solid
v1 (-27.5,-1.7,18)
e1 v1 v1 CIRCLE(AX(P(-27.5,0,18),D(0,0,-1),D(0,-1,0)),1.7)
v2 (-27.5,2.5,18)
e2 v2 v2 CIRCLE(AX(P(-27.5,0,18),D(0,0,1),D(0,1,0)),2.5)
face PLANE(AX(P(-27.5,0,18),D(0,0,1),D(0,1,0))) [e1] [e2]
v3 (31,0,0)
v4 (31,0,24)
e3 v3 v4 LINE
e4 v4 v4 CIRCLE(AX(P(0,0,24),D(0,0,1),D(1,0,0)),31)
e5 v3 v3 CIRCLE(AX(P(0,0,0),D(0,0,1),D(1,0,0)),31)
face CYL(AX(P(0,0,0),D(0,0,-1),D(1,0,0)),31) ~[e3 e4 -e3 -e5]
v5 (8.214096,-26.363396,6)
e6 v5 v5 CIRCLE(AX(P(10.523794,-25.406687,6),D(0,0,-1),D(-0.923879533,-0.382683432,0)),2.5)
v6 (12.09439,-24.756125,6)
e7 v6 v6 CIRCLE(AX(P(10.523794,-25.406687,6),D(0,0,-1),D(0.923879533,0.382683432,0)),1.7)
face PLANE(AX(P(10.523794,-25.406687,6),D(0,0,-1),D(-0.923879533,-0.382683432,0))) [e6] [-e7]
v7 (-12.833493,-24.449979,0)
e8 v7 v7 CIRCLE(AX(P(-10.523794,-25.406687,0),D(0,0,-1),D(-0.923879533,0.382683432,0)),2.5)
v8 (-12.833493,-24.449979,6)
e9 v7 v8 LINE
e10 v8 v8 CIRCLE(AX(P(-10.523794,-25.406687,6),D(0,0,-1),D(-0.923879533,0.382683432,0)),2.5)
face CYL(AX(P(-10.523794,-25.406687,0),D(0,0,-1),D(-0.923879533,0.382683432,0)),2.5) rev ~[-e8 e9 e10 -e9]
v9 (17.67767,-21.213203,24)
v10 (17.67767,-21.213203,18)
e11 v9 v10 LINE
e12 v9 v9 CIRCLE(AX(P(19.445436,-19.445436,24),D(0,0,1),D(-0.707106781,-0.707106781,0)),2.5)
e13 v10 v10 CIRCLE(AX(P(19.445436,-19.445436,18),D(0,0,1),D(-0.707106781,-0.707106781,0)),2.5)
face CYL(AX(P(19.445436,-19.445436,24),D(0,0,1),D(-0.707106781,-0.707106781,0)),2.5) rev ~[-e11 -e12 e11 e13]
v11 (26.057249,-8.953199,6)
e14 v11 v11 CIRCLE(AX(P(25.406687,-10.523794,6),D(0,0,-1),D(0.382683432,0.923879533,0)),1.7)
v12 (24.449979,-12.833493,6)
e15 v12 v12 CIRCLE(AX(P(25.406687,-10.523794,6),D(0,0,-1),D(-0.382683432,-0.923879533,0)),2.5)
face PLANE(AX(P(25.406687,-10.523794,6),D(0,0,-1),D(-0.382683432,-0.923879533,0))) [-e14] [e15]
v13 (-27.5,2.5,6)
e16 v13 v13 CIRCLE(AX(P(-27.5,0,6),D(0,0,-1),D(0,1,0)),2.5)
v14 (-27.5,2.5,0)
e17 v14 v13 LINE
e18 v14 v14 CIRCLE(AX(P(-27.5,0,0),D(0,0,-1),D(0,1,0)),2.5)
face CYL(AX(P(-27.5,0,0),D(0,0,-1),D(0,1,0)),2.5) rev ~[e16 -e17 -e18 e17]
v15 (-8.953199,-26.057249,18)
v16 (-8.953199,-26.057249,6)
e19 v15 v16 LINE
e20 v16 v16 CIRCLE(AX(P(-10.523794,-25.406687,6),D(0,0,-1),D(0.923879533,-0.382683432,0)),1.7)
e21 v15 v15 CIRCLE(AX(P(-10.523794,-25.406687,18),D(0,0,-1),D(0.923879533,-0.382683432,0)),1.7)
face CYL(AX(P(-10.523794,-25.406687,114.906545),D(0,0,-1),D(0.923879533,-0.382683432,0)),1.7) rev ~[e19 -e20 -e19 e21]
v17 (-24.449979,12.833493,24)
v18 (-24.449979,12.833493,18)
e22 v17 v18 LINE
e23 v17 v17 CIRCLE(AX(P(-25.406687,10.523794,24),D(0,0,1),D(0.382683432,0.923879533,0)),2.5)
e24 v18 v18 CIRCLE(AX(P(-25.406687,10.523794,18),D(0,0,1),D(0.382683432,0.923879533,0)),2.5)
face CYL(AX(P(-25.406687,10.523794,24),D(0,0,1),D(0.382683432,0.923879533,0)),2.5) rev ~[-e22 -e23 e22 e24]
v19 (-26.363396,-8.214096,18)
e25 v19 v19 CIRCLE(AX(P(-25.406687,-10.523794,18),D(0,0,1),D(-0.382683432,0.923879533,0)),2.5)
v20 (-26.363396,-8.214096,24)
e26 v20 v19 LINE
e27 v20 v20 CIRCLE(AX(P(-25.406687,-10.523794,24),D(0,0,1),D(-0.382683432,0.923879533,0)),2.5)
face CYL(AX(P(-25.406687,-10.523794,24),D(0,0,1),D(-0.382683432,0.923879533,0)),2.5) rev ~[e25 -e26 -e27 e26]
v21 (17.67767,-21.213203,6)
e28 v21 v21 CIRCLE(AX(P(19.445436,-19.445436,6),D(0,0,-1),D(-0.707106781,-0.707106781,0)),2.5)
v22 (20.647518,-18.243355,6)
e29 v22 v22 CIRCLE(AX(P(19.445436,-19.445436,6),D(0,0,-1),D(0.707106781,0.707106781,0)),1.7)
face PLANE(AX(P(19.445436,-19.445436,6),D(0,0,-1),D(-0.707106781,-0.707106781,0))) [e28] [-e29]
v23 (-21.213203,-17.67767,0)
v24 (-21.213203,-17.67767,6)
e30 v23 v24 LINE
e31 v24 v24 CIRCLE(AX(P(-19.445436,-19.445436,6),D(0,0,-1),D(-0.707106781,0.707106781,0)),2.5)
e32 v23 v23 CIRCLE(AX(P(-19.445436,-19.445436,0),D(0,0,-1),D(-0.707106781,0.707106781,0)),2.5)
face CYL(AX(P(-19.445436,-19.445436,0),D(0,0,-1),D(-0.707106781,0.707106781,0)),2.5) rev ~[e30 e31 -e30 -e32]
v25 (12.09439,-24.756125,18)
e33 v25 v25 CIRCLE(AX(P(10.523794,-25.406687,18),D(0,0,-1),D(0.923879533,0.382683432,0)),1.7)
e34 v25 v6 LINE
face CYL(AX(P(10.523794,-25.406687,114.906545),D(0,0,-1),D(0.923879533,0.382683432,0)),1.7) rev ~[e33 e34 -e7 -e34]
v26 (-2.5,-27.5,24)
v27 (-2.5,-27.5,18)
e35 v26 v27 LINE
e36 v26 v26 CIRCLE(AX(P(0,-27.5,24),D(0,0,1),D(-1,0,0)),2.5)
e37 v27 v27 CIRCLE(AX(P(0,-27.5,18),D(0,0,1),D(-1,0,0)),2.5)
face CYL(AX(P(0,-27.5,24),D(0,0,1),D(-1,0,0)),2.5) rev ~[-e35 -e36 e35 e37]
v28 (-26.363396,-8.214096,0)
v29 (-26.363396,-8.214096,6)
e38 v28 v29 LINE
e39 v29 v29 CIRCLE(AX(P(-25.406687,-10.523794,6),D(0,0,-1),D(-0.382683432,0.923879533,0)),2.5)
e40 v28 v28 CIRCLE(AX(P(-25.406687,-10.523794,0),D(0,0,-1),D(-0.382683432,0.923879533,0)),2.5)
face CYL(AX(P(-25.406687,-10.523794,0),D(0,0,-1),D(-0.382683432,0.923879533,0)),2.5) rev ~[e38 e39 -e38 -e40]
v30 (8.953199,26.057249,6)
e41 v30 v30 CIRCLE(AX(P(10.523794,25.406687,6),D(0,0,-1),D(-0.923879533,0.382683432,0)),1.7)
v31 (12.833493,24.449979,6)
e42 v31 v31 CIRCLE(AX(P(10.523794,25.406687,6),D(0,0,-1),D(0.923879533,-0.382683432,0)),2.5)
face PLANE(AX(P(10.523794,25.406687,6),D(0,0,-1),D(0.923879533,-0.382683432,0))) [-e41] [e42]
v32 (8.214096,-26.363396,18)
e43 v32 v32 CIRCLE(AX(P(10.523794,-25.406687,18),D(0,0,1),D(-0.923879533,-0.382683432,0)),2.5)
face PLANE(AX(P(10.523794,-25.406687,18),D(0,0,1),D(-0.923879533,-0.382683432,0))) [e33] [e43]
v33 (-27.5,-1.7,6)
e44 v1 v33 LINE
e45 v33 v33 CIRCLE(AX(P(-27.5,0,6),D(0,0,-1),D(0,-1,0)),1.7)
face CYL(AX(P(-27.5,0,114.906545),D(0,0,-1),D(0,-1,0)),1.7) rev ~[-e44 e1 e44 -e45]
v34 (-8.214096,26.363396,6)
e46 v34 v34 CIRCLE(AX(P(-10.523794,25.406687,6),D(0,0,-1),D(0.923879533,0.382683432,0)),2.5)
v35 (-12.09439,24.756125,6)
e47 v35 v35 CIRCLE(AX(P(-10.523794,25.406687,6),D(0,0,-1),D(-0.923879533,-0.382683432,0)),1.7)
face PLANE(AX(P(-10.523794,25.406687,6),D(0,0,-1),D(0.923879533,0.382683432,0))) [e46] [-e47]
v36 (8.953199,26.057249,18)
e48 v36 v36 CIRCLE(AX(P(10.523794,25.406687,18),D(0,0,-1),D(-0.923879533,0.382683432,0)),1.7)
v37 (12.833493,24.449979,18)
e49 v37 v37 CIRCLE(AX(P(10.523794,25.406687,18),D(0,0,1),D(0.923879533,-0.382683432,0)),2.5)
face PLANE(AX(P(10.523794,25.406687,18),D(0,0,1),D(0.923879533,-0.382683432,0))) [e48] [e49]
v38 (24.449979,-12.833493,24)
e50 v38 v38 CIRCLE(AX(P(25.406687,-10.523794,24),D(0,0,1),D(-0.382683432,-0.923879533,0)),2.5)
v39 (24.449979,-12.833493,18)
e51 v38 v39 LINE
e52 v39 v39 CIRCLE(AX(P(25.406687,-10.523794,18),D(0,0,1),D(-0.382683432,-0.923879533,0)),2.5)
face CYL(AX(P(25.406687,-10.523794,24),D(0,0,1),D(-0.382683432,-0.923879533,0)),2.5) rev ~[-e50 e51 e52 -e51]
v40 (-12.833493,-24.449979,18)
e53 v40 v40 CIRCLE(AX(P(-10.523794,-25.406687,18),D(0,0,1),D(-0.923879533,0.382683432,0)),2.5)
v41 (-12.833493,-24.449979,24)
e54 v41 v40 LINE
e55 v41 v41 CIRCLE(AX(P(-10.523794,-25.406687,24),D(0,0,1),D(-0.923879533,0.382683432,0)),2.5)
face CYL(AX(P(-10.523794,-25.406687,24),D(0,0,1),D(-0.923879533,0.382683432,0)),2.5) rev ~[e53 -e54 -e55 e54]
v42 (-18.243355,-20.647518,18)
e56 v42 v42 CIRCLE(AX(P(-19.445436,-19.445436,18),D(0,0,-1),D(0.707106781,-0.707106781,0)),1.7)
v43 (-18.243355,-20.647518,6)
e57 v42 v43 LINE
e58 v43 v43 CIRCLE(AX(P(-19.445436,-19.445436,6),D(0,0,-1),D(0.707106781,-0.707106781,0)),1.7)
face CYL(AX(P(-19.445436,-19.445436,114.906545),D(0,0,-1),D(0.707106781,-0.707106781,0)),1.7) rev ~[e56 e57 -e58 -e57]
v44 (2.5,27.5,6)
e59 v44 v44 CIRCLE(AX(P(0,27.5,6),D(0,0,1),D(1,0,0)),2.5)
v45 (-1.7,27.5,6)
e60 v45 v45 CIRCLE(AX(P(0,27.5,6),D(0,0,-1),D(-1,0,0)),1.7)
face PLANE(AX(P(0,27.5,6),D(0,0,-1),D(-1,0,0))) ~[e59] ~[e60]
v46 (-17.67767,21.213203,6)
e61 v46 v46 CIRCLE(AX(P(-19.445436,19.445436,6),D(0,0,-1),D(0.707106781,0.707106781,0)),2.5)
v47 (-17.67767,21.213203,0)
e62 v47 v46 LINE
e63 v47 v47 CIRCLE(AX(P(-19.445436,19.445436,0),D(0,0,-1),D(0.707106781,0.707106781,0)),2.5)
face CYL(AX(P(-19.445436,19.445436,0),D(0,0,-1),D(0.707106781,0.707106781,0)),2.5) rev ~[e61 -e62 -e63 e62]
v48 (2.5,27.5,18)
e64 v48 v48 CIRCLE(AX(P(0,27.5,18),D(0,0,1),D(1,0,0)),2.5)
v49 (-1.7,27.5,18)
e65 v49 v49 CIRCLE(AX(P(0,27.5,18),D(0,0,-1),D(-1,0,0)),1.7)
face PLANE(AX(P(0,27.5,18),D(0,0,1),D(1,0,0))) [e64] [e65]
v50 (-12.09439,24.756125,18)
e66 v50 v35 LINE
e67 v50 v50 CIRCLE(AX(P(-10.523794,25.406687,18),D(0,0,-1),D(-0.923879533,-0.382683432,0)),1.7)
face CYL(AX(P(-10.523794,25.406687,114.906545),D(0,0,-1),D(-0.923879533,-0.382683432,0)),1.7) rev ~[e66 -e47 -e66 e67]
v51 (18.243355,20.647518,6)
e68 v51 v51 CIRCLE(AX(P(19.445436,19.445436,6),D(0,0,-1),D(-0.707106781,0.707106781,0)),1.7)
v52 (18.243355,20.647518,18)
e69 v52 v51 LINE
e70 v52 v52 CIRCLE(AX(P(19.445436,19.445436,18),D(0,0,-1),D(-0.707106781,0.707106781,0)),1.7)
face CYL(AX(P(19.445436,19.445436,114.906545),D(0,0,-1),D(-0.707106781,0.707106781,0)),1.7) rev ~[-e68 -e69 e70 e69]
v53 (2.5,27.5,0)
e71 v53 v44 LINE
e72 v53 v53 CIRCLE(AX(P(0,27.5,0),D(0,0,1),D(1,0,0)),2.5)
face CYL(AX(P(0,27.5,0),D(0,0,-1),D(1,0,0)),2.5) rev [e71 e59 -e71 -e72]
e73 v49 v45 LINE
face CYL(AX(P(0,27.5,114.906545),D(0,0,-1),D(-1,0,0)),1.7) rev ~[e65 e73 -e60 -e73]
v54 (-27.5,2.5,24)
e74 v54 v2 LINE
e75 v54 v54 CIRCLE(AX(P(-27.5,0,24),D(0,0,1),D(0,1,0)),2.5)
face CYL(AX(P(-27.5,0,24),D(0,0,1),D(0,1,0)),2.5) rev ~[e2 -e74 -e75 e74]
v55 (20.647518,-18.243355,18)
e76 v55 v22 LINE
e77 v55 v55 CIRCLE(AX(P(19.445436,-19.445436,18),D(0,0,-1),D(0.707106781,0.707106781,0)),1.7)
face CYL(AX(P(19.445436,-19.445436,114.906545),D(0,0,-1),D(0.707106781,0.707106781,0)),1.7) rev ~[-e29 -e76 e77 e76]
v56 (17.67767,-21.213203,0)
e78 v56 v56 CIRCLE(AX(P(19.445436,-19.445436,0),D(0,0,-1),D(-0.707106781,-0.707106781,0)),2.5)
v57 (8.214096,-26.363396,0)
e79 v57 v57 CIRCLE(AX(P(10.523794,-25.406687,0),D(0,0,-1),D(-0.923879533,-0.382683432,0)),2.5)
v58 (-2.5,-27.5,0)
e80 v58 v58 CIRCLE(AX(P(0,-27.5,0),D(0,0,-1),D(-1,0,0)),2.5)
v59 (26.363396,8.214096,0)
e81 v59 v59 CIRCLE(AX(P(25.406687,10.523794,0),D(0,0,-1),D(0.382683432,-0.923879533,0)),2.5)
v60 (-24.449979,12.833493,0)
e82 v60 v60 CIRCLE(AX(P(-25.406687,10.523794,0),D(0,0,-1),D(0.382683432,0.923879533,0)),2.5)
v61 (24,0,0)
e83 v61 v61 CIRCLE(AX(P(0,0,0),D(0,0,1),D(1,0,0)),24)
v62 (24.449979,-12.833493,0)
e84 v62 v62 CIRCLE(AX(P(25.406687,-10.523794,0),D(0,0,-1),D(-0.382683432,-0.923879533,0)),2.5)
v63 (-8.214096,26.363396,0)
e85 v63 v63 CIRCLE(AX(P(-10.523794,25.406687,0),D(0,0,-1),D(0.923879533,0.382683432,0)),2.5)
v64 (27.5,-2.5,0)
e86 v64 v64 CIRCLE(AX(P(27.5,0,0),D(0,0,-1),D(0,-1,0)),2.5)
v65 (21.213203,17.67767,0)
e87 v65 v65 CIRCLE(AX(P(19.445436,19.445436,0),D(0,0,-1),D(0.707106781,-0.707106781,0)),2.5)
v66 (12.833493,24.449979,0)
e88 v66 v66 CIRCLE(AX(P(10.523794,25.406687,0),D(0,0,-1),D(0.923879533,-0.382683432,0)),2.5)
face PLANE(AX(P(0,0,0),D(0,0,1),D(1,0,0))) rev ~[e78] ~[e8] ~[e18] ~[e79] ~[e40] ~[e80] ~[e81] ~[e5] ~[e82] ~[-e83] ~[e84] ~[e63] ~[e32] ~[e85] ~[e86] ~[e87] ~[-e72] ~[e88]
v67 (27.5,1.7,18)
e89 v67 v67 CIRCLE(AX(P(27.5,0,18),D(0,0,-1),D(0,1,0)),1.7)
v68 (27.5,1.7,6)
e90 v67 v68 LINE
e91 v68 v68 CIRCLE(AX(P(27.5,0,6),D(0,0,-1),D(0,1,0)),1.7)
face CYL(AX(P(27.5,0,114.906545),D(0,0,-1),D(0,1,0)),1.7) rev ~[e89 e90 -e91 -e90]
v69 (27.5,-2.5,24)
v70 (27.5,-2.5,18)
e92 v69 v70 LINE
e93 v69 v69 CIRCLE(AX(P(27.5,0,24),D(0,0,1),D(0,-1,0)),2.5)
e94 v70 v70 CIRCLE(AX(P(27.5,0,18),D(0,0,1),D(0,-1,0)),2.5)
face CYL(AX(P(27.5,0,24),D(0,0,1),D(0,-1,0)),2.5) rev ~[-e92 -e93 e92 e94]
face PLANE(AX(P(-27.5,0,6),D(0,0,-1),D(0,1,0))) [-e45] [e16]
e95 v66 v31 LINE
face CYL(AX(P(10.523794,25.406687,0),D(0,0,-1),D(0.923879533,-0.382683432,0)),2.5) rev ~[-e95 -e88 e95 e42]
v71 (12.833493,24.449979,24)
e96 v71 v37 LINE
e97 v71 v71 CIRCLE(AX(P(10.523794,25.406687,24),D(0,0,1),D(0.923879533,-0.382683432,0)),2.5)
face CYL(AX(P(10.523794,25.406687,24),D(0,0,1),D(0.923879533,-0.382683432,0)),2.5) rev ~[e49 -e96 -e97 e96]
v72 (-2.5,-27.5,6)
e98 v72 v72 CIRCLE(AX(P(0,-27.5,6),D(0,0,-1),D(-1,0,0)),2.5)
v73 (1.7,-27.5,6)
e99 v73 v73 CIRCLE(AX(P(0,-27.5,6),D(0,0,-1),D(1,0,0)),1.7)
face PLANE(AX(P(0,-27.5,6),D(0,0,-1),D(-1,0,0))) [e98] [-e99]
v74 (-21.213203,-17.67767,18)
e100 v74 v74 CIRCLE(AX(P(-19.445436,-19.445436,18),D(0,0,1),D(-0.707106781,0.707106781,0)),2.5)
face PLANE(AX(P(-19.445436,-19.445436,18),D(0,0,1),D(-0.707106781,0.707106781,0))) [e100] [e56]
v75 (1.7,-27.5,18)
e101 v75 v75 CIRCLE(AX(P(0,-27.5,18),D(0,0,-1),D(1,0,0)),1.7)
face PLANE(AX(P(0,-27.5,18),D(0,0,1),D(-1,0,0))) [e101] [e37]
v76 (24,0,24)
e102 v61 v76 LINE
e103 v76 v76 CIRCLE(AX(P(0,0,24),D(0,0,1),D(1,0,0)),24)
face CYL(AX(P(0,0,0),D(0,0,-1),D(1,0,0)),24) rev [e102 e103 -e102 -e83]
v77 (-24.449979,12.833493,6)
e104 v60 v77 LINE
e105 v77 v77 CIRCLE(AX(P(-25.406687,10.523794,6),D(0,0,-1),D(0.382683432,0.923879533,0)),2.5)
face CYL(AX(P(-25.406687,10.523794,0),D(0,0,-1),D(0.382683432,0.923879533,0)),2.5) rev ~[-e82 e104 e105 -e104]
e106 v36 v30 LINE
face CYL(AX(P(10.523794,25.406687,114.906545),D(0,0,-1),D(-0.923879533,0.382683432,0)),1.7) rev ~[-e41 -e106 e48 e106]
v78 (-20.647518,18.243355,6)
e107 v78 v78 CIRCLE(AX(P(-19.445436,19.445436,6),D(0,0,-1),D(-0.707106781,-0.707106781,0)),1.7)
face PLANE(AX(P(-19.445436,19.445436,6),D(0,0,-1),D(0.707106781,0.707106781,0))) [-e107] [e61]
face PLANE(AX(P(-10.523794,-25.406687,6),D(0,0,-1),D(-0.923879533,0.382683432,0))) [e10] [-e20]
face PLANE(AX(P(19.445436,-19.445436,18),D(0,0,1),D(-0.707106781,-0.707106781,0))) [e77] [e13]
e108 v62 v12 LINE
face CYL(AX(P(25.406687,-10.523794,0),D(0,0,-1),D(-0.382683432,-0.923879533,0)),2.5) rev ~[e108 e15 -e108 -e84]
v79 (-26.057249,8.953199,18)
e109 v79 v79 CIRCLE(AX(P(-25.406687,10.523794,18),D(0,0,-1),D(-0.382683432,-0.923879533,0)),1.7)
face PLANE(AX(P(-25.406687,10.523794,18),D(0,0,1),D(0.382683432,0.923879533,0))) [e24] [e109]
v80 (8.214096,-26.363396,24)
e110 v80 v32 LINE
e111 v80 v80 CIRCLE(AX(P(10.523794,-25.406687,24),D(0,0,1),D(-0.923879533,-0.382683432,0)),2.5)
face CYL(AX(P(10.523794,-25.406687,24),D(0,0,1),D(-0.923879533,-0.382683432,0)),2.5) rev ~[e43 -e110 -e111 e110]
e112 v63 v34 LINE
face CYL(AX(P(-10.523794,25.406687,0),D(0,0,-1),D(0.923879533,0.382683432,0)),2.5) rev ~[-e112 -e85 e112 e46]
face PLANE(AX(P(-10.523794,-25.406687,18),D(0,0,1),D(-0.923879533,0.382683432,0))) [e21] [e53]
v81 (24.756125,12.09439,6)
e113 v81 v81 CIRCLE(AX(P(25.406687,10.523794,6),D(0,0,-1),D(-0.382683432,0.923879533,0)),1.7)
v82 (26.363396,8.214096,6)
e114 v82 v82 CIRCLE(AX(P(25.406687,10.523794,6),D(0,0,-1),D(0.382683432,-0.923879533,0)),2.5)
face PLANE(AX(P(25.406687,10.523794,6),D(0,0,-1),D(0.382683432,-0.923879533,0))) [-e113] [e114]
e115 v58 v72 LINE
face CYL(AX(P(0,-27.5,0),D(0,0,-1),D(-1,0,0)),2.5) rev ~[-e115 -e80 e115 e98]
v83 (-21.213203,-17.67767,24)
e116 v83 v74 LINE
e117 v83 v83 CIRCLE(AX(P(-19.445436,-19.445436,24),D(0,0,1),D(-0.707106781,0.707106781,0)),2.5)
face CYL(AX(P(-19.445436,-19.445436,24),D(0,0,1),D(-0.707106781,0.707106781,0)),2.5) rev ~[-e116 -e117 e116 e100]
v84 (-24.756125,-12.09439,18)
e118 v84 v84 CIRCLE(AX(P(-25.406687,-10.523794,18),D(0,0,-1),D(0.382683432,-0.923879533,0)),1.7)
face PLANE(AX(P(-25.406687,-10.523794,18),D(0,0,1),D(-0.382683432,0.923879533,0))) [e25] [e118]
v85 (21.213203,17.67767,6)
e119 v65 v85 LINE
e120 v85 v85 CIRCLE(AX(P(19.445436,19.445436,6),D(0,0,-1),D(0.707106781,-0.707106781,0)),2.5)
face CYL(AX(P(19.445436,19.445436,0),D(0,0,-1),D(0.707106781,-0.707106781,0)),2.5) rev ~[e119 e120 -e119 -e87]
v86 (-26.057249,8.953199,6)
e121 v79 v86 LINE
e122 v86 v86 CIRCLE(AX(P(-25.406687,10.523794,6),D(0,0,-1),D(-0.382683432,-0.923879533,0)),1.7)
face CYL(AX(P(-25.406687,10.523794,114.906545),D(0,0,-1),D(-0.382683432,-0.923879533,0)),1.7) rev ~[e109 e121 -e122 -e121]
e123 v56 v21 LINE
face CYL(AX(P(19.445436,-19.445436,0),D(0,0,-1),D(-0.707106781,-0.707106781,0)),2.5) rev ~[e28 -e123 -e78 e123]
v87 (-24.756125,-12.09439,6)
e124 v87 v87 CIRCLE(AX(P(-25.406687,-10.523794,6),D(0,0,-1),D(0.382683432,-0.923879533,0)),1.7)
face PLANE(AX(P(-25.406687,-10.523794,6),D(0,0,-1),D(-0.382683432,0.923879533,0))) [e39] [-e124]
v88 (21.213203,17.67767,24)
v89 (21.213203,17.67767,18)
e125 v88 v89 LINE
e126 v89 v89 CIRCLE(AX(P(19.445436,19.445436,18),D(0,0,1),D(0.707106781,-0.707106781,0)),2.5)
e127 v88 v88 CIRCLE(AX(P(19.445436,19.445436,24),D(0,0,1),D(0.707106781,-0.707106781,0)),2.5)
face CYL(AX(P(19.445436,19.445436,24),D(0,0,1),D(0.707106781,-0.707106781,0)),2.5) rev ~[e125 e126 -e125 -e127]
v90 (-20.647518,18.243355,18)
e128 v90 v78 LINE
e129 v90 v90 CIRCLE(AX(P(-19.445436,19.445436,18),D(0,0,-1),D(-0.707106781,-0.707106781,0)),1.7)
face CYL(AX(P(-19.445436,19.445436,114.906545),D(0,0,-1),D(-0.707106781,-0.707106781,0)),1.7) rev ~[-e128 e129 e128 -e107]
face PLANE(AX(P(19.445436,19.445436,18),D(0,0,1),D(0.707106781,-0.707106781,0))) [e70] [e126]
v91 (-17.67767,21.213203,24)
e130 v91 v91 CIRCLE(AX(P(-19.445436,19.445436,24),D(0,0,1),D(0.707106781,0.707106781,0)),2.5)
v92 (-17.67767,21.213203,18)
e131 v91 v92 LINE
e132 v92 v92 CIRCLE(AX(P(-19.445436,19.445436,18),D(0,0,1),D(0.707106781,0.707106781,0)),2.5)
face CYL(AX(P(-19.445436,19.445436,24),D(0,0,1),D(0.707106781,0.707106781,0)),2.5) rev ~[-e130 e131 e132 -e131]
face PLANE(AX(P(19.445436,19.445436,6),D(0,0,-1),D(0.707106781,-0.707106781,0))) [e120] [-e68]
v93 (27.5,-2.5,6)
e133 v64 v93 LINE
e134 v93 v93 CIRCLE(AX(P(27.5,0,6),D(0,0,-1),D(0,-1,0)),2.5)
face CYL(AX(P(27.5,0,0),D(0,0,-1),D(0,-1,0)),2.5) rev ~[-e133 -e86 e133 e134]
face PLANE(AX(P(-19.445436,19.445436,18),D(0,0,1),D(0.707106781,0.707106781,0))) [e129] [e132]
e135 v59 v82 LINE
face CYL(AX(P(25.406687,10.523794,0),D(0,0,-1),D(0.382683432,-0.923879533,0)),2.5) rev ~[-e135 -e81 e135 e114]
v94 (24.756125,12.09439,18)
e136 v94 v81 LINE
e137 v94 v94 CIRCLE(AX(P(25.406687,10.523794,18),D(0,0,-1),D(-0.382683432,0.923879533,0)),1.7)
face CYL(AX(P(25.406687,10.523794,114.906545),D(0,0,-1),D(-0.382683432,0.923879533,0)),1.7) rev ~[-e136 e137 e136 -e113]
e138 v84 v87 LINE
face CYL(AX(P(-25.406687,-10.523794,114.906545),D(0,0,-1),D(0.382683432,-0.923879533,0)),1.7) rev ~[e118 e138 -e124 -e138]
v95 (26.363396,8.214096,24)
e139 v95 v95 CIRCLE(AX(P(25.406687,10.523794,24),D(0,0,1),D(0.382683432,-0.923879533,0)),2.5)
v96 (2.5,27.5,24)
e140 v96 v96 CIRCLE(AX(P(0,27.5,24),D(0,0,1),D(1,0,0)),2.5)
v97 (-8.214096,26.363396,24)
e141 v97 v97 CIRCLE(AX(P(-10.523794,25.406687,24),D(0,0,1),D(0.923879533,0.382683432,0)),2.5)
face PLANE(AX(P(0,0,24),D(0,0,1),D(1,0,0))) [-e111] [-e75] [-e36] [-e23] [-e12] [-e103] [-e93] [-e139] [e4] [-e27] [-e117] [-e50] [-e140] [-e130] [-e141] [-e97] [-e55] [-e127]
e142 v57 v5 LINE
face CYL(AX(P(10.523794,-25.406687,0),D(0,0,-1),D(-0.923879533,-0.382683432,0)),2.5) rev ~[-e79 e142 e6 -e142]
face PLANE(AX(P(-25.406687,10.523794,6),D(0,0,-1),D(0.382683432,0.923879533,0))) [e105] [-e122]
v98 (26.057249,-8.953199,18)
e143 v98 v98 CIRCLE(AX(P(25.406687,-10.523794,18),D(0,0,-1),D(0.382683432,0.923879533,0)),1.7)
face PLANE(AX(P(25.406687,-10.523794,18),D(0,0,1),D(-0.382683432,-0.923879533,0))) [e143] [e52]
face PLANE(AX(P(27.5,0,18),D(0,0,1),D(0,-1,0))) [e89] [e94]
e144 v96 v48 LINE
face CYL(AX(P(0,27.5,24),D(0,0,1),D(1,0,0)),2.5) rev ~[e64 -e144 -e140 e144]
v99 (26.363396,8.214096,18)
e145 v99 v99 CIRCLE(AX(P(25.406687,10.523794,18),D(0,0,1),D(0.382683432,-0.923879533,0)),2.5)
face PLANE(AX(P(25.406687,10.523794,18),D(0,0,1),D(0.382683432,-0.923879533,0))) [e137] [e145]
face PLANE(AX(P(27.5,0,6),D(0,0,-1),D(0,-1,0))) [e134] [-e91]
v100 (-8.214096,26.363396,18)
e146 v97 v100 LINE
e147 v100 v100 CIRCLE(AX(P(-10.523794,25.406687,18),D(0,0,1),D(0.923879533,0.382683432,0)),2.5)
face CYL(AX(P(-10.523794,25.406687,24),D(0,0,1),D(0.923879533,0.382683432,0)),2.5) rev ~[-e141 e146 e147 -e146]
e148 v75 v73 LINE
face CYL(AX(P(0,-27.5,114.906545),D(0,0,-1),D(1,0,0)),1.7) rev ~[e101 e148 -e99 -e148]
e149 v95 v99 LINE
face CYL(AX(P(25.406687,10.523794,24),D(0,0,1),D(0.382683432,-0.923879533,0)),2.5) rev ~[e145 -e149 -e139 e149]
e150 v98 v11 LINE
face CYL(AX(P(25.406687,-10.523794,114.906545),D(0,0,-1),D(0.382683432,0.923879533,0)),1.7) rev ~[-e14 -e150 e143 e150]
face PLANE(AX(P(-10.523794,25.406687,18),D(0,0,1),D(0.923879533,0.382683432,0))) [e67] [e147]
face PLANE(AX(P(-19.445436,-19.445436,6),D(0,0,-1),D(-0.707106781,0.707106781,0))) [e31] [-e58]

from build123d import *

# Parameters (mm, degrees)
SKETCH_1_R                = 31
SKETCH_1_R_2              = 24
EXTRUDE_1_DEPTH           = 24
HOLE_WIZARD_M3_1_D        = 3.4
SKETCH_7_R                = 2.5
CUT_EXTRUDE_3_DEPTH       = 6
PATTERN_CIRCULAR_3_COUNT  = 16
MIRROR_1_COPY_1_D         = 3.4
MIRROR_1_COPY_2_D         = 3.4
MIRROR_1_COPY_3_D         = 3.4
MIRROR_1_COPY_4_D         = 3.4
MIRROR_1_COPY_5_D         = 3.4
MIRROR_1_COPY_6_D         = 3.4
MIRROR_1_COPY_7_D         = 3.4
MIRROR_1_COPY_8_D         = 3.4
MIRROR_1_COPY_9_D         = 3.4
MIRROR_1_COPY_10_D        = 3.4
MIRROR_1_COPY_11_D        = 3.4
MIRROR_1_COPY_12_D        = 3.4
MIRROR_1_COPY_13_D        = 3.4
MIRROR_1_COPY_14_D        = 3.4
MIRROR_1_COPY_15_D        = 3.4
MIRROR_1_COPY_16_SKETCH_R = 2.5
MIRROR_1_COPY_16_DEPTH    = 6
MIRROR_1_COPY_17_SKETCH_R = 2.5
MIRROR_1_COPY_17_DEPTH    = 6
MIRROR_1_COPY_18_SKETCH_R = 2.5
MIRROR_1_COPY_18_DEPTH    = 6
MIRROR_1_COPY_19_SKETCH_R = 2.5
MIRROR_1_COPY_19_DEPTH    = 6
MIRROR_1_COPY_20_SKETCH_R = 2.5
MIRROR_1_COPY_20_DEPTH    = 6
MIRROR_1_COPY_21_SKETCH_R = 2.5
MIRROR_1_COPY_21_DEPTH    = 6
MIRROR_1_COPY_22_SKETCH_R = 2.5
MIRROR_1_COPY_22_DEPTH    = 6
MIRROR_1_COPY_23_SKETCH_R = 2.5
MIRROR_1_COPY_23_DEPTH    = 6
MIRROR_1_COPY_24_SKETCH_R = 2.5
MIRROR_1_COPY_24_DEPTH    = 6
MIRROR_1_COPY_25_SKETCH_R = 2.5
MIRROR_1_COPY_25_DEPTH    = 6
MIRROR_1_COPY_26_SKETCH_R = 2.5
MIRROR_1_COPY_26_DEPTH    = 6
MIRROR_1_COPY_27_SKETCH_R = 2.5
MIRROR_1_COPY_27_DEPTH    = 6
MIRROR_1_COPY_28_SKETCH_R = 2.5
MIRROR_1_COPY_28_DEPTH    = 6
MIRROR_1_COPY_29_SKETCH_R = 2.5
MIRROR_1_COPY_29_DEPTH    = 6
MIRROR_1_COPY_30_SKETCH_R = 2.5
MIRROR_1_COPY_30_DEPTH    = 6
MIRROR_1_COPY_31_D        = 3.4


with BuildPart() as part:
    # ｽｹｯﾁ1 → ﾎﾞｽ - 押し出し1 (new body)
    with BuildSketch(Plane.XY):
        Circle(SKETCH_1_R)
        Circle(SKETCH_1_R_2, mode=Mode.SUBTRACT)
    extrude(amount=EXTRUDE_1_DEPTH)

    # M3 すきま穴1 (through all)
    with Locations(Plane.XY.offset(24)):
        with Locations((0, 27.5)):
            hole_wizard_m3_1 = Hole(HOLE_WIZARD_M3_1_D / 2)

    # ｽｹｯﾁ7 → ｶｯﾄ - 押し出し3 (cut)
    with BuildSketch(Plane.XY.offset(24)):
        with Locations((0, 27.5)):
            Circle(SKETCH_7_R)
    cut_extrude_3 = extrude(amount=-CUT_EXTRUDE_3_DEPTH, mode=Mode.SUBTRACT)

    # 円形ﾊﾟﾀｰﾝ3: M3 すきま穴1, ｶｯﾄ - 押し出し3 ×16 about axis
    pattern_circular_3_axis = Axis((0, 0, 0), (0, 0, 1))
    for i in range(1, PATTERN_CIRCULAR_3_COUNT):
        add(hole_wizard_m3_1.rotate(pattern_circular_3_axis, i * 360 / PATTERN_CIRCULAR_3_COUNT), mode=Mode.SUBTRACT)
        add(cut_extrude_3.rotate(pattern_circular_3_axis, i * 360 / PATTERN_CIRCULAR_3_COUNT), mode=Mode.SUBTRACT)

    # ﾐﾗｰ1: ｶｯﾄ - 押し出し3 across plane
    add(cut_extrude_3.mirror(Plane(origin=(0, 0, 12), x_dir=(1, 0, 0), z_dir=(0, 0, -1))), mode=Mode.SUBTRACT)

    # ﾐﾗｰ1 copy 1 (through all)
    with Locations(Plane(origin=(0, 0, 0), x_dir=(0.923879533, 0.382683432, 0), z_dir=(0, 0, -1))):
        with Locations((0, -27.5)):
            Hole(MIRROR_1_COPY_1_D / 2)

    # ﾐﾗｰ1 copy 2 (through all)
    with Locations(Plane(origin=(0, 0, 0), x_dir=(0.707106781, 0.707106781, 0), z_dir=(0, 0, -1))):
        with Locations((0, -27.5)):
            Hole(MIRROR_1_COPY_2_D / 2)

    # ﾐﾗｰ1 copy 3 (through all)
    with Locations(Plane(origin=(0, 0, 0), x_dir=(0.382683432, 0.923879533, 0), z_dir=(0, 0, -1))):
        with Locations((0, -27.5)):
            Hole(MIRROR_1_COPY_3_D / 2)

    # ﾐﾗｰ1 copy 4 (through all)
    with Locations(Plane.YX):
        with Locations((0, -27.5)):
            Hole(MIRROR_1_COPY_4_D / 2)

    # ﾐﾗｰ1 copy 5 (through all)
    with Locations(Plane(origin=(0, 0, 0), x_dir=(-0.382683432, 0.923879533, 0), z_dir=(0, 0, -1))):
        with Locations((0, -27.5)):
            Hole(MIRROR_1_COPY_5_D / 2)

    # ﾐﾗｰ1 copy 6 (through all)
    with Locations(Plane(origin=(0, 0, 0), x_dir=(-0.707106781, 0.707106781, 0), z_dir=(0, 0, -1))):
        with Locations((0, -27.5)):
            Hole(MIRROR_1_COPY_6_D / 2)

    # ﾐﾗｰ1 copy 7 (through all)
    with Locations(Plane(origin=(0, 0, 0), x_dir=(-0.923879533, 0.382683432, 0), z_dir=(0, 0, -1))):
        with Locations((0, -27.5)):
            Hole(MIRROR_1_COPY_7_D / 2)

    # ﾐﾗｰ1 copy 8 (through all)
    with Locations(Plane(origin=(0, 0, 0), x_dir=(-1, 0, 0), z_dir=(0, 0, -1))):
        with Locations((0, -27.5)):
            Hole(MIRROR_1_COPY_8_D / 2)

    # ﾐﾗｰ1 copy 9 (through all)
    with Locations(Plane(origin=(0, 0, 0), x_dir=(-0.923879533, -0.382683432, 0), z_dir=(0, 0, -1))):
        with Locations((0, -27.5)):
            Hole(MIRROR_1_COPY_9_D / 2)

    # ﾐﾗｰ1 copy 10 (through all)
    with Locations(Plane(origin=(0, 0, 0), x_dir=(-0.707106781, -0.707106781, 0), z_dir=(0, 0, -1))):
        with Locations((0, -27.5)):
            Hole(MIRROR_1_COPY_10_D / 2)

    # ﾐﾗｰ1 copy 11 (through all)
    with Locations(Plane(origin=(0, 0, 0), x_dir=(-0.382683432, -0.923879533, 0), z_dir=(0, 0, -1))):
        with Locations((0, -27.5)):
            Hole(MIRROR_1_COPY_11_D / 2)

    # ﾐﾗｰ1 copy 12 (through all)
    with Locations(Plane(origin=(0, 0, 0), x_dir=(0, -1, 0), z_dir=(0, 0, -1))):
        with Locations((0, -27.5)):
            Hole(MIRROR_1_COPY_12_D / 2)

    # ﾐﾗｰ1 copy 13 (through all)
    with Locations(Plane(origin=(0, 0, 0), x_dir=(0.382683432, -0.923879533, 0), z_dir=(0, 0, -1))):
        with Locations((0, -27.5)):
            Hole(MIRROR_1_COPY_13_D / 2)

    # ﾐﾗｰ1 copy 14 (through all)
    with Locations(Plane(origin=(0, 0, 0), x_dir=(0.707106781, -0.707106781, 0), z_dir=(0, 0, -1))):
        with Locations((0, -27.5)):
            Hole(MIRROR_1_COPY_14_D / 2)

    # ﾐﾗｰ1 copy 15 (through all)
    with Locations(Plane(origin=(0, 0, 0), x_dir=(0.923879533, -0.382683432, 0), z_dir=(0, 0, -1))):
        with Locations((0, -27.5)):
            Hole(MIRROR_1_COPY_15_D / 2)

    # ﾐﾗｰ1 copy 16 sketch → ﾐﾗｰ1 copy 16 (cut)
    with BuildSketch(Plane(origin=(0, 0, 0), x_dir=(0.923879533, 0.382683432, 0), z_dir=(0, 0, -1))):
        with Locations((0, -27.5)):
            Circle(MIRROR_1_COPY_16_SKETCH_R)
    extrude(amount=-MIRROR_1_COPY_16_DEPTH, mode=Mode.SUBTRACT)

    # ﾐﾗｰ1 copy 17 sketch → ﾐﾗｰ1 copy 17 (cut)
    with BuildSketch(Plane(origin=(0, 0, 0), x_dir=(0.707106781, 0.707106781, 0), z_dir=(0, 0, -1))):
        with Locations((0, -27.5)):
            Circle(MIRROR_1_COPY_17_SKETCH_R)
    extrude(amount=-MIRROR_1_COPY_17_DEPTH, mode=Mode.SUBTRACT)

    # ﾐﾗｰ1 copy 18 sketch → ﾐﾗｰ1 copy 18 (cut)
    with BuildSketch(Plane(origin=(0, 0, 0), x_dir=(0.382683432, 0.923879533, 0), z_dir=(0, 0, -1))):
        with Locations((0, -27.5)):
            Circle(MIRROR_1_COPY_18_SKETCH_R)
    extrude(amount=-MIRROR_1_COPY_18_DEPTH, mode=Mode.SUBTRACT)

    # ﾐﾗｰ1 copy 19 sketch → ﾐﾗｰ1 copy 19 (cut)
    with BuildSketch(Plane.YX):
        with Locations((0, -27.5)):
            Circle(MIRROR_1_COPY_19_SKETCH_R)
    extrude(amount=-MIRROR_1_COPY_19_DEPTH, mode=Mode.SUBTRACT)

    # ﾐﾗｰ1 copy 20 sketch → ﾐﾗｰ1 copy 20 (cut)
    with BuildSketch(Plane(origin=(0, 0, 0), x_dir=(-0.382683432, 0.923879533, 0), z_dir=(0, 0, -1))):
        with Locations((0, -27.5)):
            Circle(MIRROR_1_COPY_20_SKETCH_R)
    extrude(amount=-MIRROR_1_COPY_20_DEPTH, mode=Mode.SUBTRACT)

    # ﾐﾗｰ1 copy 21 sketch → ﾐﾗｰ1 copy 21 (cut)
    with BuildSketch(Plane(origin=(0, 0, 0), x_dir=(-0.707106781, 0.707106781, 0), z_dir=(0, 0, -1))):
        with Locations((0, -27.5)):
            Circle(MIRROR_1_COPY_21_SKETCH_R)
    extrude(amount=-MIRROR_1_COPY_21_DEPTH, mode=Mode.SUBTRACT)

    # ﾐﾗｰ1 copy 22 sketch → ﾐﾗｰ1 copy 22 (cut)
    with BuildSketch(Plane(origin=(0, 0, 0), x_dir=(-0.923879533, 0.382683432, 0), z_dir=(0, 0, -1))):
        with Locations((0, -27.5)):
            Circle(MIRROR_1_COPY_22_SKETCH_R)
    extrude(amount=-MIRROR_1_COPY_22_DEPTH, mode=Mode.SUBTRACT)

    # ﾐﾗｰ1 copy 23 sketch → ﾐﾗｰ1 copy 23 (cut)
    with BuildSketch(Plane(origin=(0, 0, 0), x_dir=(-1, 0, 0), z_dir=(0, 0, -1))):
        with Locations((0, -27.5)):
            Circle(MIRROR_1_COPY_23_SKETCH_R)
    extrude(amount=-MIRROR_1_COPY_23_DEPTH, mode=Mode.SUBTRACT)

    # ﾐﾗｰ1 copy 24 sketch → ﾐﾗｰ1 copy 24 (cut)
    with BuildSketch(Plane(origin=(0, 0, 0), x_dir=(-0.923879533, -0.382683432, 0), z_dir=(0, 0, -1))):
        with Locations((0, -27.5)):
            Circle(MIRROR_1_COPY_24_SKETCH_R)
    extrude(amount=-MIRROR_1_COPY_24_DEPTH, mode=Mode.SUBTRACT)

    # ﾐﾗｰ1 copy 25 sketch → ﾐﾗｰ1 copy 25 (cut)
    with BuildSketch(Plane(origin=(0, 0, 0), x_dir=(-0.707106781, -0.707106781, 0), z_dir=(0, 0, -1))):
        with Locations((0, -27.5)):
            Circle(MIRROR_1_COPY_25_SKETCH_R)
    extrude(amount=-MIRROR_1_COPY_25_DEPTH, mode=Mode.SUBTRACT)

    # ﾐﾗｰ1 copy 26 sketch → ﾐﾗｰ1 copy 26 (cut)
    with BuildSketch(Plane(origin=(0, 0, 0), x_dir=(-0.382683432, -0.923879533, 0), z_dir=(0, 0, -1))):
        with Locations((0, -27.5)):
            Circle(MIRROR_1_COPY_26_SKETCH_R)
    extrude(amount=-MIRROR_1_COPY_26_DEPTH, mode=Mode.SUBTRACT)

    # ﾐﾗｰ1 copy 27 sketch → ﾐﾗｰ1 copy 27 (cut)
    with BuildSketch(Plane(origin=(0, 0, 0), x_dir=(0, -1, 0), z_dir=(0, 0, -1))):
        with Locations((0, -27.5)):
            Circle(MIRROR_1_COPY_27_SKETCH_R)
    extrude(amount=-MIRROR_1_COPY_27_DEPTH, mode=Mode.SUBTRACT)

    # ﾐﾗｰ1 copy 28 sketch → ﾐﾗｰ1 copy 28 (cut)
    with BuildSketch(Plane(origin=(0, 0, 0), x_dir=(0.382683432, -0.923879533, 0), z_dir=(0, 0, -1))):
        with Locations((0, -27.5)):
            Circle(MIRROR_1_COPY_28_SKETCH_R)
    extrude(amount=-MIRROR_1_COPY_28_DEPTH, mode=Mode.SUBTRACT)

    # ﾐﾗｰ1 copy 29 sketch → ﾐﾗｰ1 copy 29 (cut)
    with BuildSketch(Plane(origin=(0, 0, 0), x_dir=(0.707106781, -0.707106781, 0), z_dir=(0, 0, -1))):
        with Locations((0, -27.5)):
            Circle(MIRROR_1_COPY_29_SKETCH_R)
    extrude(amount=-MIRROR_1_COPY_29_DEPTH, mode=Mode.SUBTRACT)

    # ﾐﾗｰ1 copy 30 sketch → ﾐﾗｰ1 copy 30 (cut)
    with BuildSketch(Plane(origin=(0, 0, 0), x_dir=(0.923879533, -0.382683432, 0), z_dir=(0, 0, -1))):
        with Locations((0, -27.5)):
            Circle(MIRROR_1_COPY_30_SKETCH_R)
    extrude(amount=-MIRROR_1_COPY_30_DEPTH, mode=Mode.SUBTRACT)

    # ﾐﾗｰ1 copy 31 (through all)
    with Locations(Plane(origin=(0, 0, 0), x_dir=(1, 0, 0), z_dir=(0, 0, -1))):
        with Locations((0, -27.5)):
            Hole(MIRROR_1_COPY_31_D / 2)


solid = part.part
